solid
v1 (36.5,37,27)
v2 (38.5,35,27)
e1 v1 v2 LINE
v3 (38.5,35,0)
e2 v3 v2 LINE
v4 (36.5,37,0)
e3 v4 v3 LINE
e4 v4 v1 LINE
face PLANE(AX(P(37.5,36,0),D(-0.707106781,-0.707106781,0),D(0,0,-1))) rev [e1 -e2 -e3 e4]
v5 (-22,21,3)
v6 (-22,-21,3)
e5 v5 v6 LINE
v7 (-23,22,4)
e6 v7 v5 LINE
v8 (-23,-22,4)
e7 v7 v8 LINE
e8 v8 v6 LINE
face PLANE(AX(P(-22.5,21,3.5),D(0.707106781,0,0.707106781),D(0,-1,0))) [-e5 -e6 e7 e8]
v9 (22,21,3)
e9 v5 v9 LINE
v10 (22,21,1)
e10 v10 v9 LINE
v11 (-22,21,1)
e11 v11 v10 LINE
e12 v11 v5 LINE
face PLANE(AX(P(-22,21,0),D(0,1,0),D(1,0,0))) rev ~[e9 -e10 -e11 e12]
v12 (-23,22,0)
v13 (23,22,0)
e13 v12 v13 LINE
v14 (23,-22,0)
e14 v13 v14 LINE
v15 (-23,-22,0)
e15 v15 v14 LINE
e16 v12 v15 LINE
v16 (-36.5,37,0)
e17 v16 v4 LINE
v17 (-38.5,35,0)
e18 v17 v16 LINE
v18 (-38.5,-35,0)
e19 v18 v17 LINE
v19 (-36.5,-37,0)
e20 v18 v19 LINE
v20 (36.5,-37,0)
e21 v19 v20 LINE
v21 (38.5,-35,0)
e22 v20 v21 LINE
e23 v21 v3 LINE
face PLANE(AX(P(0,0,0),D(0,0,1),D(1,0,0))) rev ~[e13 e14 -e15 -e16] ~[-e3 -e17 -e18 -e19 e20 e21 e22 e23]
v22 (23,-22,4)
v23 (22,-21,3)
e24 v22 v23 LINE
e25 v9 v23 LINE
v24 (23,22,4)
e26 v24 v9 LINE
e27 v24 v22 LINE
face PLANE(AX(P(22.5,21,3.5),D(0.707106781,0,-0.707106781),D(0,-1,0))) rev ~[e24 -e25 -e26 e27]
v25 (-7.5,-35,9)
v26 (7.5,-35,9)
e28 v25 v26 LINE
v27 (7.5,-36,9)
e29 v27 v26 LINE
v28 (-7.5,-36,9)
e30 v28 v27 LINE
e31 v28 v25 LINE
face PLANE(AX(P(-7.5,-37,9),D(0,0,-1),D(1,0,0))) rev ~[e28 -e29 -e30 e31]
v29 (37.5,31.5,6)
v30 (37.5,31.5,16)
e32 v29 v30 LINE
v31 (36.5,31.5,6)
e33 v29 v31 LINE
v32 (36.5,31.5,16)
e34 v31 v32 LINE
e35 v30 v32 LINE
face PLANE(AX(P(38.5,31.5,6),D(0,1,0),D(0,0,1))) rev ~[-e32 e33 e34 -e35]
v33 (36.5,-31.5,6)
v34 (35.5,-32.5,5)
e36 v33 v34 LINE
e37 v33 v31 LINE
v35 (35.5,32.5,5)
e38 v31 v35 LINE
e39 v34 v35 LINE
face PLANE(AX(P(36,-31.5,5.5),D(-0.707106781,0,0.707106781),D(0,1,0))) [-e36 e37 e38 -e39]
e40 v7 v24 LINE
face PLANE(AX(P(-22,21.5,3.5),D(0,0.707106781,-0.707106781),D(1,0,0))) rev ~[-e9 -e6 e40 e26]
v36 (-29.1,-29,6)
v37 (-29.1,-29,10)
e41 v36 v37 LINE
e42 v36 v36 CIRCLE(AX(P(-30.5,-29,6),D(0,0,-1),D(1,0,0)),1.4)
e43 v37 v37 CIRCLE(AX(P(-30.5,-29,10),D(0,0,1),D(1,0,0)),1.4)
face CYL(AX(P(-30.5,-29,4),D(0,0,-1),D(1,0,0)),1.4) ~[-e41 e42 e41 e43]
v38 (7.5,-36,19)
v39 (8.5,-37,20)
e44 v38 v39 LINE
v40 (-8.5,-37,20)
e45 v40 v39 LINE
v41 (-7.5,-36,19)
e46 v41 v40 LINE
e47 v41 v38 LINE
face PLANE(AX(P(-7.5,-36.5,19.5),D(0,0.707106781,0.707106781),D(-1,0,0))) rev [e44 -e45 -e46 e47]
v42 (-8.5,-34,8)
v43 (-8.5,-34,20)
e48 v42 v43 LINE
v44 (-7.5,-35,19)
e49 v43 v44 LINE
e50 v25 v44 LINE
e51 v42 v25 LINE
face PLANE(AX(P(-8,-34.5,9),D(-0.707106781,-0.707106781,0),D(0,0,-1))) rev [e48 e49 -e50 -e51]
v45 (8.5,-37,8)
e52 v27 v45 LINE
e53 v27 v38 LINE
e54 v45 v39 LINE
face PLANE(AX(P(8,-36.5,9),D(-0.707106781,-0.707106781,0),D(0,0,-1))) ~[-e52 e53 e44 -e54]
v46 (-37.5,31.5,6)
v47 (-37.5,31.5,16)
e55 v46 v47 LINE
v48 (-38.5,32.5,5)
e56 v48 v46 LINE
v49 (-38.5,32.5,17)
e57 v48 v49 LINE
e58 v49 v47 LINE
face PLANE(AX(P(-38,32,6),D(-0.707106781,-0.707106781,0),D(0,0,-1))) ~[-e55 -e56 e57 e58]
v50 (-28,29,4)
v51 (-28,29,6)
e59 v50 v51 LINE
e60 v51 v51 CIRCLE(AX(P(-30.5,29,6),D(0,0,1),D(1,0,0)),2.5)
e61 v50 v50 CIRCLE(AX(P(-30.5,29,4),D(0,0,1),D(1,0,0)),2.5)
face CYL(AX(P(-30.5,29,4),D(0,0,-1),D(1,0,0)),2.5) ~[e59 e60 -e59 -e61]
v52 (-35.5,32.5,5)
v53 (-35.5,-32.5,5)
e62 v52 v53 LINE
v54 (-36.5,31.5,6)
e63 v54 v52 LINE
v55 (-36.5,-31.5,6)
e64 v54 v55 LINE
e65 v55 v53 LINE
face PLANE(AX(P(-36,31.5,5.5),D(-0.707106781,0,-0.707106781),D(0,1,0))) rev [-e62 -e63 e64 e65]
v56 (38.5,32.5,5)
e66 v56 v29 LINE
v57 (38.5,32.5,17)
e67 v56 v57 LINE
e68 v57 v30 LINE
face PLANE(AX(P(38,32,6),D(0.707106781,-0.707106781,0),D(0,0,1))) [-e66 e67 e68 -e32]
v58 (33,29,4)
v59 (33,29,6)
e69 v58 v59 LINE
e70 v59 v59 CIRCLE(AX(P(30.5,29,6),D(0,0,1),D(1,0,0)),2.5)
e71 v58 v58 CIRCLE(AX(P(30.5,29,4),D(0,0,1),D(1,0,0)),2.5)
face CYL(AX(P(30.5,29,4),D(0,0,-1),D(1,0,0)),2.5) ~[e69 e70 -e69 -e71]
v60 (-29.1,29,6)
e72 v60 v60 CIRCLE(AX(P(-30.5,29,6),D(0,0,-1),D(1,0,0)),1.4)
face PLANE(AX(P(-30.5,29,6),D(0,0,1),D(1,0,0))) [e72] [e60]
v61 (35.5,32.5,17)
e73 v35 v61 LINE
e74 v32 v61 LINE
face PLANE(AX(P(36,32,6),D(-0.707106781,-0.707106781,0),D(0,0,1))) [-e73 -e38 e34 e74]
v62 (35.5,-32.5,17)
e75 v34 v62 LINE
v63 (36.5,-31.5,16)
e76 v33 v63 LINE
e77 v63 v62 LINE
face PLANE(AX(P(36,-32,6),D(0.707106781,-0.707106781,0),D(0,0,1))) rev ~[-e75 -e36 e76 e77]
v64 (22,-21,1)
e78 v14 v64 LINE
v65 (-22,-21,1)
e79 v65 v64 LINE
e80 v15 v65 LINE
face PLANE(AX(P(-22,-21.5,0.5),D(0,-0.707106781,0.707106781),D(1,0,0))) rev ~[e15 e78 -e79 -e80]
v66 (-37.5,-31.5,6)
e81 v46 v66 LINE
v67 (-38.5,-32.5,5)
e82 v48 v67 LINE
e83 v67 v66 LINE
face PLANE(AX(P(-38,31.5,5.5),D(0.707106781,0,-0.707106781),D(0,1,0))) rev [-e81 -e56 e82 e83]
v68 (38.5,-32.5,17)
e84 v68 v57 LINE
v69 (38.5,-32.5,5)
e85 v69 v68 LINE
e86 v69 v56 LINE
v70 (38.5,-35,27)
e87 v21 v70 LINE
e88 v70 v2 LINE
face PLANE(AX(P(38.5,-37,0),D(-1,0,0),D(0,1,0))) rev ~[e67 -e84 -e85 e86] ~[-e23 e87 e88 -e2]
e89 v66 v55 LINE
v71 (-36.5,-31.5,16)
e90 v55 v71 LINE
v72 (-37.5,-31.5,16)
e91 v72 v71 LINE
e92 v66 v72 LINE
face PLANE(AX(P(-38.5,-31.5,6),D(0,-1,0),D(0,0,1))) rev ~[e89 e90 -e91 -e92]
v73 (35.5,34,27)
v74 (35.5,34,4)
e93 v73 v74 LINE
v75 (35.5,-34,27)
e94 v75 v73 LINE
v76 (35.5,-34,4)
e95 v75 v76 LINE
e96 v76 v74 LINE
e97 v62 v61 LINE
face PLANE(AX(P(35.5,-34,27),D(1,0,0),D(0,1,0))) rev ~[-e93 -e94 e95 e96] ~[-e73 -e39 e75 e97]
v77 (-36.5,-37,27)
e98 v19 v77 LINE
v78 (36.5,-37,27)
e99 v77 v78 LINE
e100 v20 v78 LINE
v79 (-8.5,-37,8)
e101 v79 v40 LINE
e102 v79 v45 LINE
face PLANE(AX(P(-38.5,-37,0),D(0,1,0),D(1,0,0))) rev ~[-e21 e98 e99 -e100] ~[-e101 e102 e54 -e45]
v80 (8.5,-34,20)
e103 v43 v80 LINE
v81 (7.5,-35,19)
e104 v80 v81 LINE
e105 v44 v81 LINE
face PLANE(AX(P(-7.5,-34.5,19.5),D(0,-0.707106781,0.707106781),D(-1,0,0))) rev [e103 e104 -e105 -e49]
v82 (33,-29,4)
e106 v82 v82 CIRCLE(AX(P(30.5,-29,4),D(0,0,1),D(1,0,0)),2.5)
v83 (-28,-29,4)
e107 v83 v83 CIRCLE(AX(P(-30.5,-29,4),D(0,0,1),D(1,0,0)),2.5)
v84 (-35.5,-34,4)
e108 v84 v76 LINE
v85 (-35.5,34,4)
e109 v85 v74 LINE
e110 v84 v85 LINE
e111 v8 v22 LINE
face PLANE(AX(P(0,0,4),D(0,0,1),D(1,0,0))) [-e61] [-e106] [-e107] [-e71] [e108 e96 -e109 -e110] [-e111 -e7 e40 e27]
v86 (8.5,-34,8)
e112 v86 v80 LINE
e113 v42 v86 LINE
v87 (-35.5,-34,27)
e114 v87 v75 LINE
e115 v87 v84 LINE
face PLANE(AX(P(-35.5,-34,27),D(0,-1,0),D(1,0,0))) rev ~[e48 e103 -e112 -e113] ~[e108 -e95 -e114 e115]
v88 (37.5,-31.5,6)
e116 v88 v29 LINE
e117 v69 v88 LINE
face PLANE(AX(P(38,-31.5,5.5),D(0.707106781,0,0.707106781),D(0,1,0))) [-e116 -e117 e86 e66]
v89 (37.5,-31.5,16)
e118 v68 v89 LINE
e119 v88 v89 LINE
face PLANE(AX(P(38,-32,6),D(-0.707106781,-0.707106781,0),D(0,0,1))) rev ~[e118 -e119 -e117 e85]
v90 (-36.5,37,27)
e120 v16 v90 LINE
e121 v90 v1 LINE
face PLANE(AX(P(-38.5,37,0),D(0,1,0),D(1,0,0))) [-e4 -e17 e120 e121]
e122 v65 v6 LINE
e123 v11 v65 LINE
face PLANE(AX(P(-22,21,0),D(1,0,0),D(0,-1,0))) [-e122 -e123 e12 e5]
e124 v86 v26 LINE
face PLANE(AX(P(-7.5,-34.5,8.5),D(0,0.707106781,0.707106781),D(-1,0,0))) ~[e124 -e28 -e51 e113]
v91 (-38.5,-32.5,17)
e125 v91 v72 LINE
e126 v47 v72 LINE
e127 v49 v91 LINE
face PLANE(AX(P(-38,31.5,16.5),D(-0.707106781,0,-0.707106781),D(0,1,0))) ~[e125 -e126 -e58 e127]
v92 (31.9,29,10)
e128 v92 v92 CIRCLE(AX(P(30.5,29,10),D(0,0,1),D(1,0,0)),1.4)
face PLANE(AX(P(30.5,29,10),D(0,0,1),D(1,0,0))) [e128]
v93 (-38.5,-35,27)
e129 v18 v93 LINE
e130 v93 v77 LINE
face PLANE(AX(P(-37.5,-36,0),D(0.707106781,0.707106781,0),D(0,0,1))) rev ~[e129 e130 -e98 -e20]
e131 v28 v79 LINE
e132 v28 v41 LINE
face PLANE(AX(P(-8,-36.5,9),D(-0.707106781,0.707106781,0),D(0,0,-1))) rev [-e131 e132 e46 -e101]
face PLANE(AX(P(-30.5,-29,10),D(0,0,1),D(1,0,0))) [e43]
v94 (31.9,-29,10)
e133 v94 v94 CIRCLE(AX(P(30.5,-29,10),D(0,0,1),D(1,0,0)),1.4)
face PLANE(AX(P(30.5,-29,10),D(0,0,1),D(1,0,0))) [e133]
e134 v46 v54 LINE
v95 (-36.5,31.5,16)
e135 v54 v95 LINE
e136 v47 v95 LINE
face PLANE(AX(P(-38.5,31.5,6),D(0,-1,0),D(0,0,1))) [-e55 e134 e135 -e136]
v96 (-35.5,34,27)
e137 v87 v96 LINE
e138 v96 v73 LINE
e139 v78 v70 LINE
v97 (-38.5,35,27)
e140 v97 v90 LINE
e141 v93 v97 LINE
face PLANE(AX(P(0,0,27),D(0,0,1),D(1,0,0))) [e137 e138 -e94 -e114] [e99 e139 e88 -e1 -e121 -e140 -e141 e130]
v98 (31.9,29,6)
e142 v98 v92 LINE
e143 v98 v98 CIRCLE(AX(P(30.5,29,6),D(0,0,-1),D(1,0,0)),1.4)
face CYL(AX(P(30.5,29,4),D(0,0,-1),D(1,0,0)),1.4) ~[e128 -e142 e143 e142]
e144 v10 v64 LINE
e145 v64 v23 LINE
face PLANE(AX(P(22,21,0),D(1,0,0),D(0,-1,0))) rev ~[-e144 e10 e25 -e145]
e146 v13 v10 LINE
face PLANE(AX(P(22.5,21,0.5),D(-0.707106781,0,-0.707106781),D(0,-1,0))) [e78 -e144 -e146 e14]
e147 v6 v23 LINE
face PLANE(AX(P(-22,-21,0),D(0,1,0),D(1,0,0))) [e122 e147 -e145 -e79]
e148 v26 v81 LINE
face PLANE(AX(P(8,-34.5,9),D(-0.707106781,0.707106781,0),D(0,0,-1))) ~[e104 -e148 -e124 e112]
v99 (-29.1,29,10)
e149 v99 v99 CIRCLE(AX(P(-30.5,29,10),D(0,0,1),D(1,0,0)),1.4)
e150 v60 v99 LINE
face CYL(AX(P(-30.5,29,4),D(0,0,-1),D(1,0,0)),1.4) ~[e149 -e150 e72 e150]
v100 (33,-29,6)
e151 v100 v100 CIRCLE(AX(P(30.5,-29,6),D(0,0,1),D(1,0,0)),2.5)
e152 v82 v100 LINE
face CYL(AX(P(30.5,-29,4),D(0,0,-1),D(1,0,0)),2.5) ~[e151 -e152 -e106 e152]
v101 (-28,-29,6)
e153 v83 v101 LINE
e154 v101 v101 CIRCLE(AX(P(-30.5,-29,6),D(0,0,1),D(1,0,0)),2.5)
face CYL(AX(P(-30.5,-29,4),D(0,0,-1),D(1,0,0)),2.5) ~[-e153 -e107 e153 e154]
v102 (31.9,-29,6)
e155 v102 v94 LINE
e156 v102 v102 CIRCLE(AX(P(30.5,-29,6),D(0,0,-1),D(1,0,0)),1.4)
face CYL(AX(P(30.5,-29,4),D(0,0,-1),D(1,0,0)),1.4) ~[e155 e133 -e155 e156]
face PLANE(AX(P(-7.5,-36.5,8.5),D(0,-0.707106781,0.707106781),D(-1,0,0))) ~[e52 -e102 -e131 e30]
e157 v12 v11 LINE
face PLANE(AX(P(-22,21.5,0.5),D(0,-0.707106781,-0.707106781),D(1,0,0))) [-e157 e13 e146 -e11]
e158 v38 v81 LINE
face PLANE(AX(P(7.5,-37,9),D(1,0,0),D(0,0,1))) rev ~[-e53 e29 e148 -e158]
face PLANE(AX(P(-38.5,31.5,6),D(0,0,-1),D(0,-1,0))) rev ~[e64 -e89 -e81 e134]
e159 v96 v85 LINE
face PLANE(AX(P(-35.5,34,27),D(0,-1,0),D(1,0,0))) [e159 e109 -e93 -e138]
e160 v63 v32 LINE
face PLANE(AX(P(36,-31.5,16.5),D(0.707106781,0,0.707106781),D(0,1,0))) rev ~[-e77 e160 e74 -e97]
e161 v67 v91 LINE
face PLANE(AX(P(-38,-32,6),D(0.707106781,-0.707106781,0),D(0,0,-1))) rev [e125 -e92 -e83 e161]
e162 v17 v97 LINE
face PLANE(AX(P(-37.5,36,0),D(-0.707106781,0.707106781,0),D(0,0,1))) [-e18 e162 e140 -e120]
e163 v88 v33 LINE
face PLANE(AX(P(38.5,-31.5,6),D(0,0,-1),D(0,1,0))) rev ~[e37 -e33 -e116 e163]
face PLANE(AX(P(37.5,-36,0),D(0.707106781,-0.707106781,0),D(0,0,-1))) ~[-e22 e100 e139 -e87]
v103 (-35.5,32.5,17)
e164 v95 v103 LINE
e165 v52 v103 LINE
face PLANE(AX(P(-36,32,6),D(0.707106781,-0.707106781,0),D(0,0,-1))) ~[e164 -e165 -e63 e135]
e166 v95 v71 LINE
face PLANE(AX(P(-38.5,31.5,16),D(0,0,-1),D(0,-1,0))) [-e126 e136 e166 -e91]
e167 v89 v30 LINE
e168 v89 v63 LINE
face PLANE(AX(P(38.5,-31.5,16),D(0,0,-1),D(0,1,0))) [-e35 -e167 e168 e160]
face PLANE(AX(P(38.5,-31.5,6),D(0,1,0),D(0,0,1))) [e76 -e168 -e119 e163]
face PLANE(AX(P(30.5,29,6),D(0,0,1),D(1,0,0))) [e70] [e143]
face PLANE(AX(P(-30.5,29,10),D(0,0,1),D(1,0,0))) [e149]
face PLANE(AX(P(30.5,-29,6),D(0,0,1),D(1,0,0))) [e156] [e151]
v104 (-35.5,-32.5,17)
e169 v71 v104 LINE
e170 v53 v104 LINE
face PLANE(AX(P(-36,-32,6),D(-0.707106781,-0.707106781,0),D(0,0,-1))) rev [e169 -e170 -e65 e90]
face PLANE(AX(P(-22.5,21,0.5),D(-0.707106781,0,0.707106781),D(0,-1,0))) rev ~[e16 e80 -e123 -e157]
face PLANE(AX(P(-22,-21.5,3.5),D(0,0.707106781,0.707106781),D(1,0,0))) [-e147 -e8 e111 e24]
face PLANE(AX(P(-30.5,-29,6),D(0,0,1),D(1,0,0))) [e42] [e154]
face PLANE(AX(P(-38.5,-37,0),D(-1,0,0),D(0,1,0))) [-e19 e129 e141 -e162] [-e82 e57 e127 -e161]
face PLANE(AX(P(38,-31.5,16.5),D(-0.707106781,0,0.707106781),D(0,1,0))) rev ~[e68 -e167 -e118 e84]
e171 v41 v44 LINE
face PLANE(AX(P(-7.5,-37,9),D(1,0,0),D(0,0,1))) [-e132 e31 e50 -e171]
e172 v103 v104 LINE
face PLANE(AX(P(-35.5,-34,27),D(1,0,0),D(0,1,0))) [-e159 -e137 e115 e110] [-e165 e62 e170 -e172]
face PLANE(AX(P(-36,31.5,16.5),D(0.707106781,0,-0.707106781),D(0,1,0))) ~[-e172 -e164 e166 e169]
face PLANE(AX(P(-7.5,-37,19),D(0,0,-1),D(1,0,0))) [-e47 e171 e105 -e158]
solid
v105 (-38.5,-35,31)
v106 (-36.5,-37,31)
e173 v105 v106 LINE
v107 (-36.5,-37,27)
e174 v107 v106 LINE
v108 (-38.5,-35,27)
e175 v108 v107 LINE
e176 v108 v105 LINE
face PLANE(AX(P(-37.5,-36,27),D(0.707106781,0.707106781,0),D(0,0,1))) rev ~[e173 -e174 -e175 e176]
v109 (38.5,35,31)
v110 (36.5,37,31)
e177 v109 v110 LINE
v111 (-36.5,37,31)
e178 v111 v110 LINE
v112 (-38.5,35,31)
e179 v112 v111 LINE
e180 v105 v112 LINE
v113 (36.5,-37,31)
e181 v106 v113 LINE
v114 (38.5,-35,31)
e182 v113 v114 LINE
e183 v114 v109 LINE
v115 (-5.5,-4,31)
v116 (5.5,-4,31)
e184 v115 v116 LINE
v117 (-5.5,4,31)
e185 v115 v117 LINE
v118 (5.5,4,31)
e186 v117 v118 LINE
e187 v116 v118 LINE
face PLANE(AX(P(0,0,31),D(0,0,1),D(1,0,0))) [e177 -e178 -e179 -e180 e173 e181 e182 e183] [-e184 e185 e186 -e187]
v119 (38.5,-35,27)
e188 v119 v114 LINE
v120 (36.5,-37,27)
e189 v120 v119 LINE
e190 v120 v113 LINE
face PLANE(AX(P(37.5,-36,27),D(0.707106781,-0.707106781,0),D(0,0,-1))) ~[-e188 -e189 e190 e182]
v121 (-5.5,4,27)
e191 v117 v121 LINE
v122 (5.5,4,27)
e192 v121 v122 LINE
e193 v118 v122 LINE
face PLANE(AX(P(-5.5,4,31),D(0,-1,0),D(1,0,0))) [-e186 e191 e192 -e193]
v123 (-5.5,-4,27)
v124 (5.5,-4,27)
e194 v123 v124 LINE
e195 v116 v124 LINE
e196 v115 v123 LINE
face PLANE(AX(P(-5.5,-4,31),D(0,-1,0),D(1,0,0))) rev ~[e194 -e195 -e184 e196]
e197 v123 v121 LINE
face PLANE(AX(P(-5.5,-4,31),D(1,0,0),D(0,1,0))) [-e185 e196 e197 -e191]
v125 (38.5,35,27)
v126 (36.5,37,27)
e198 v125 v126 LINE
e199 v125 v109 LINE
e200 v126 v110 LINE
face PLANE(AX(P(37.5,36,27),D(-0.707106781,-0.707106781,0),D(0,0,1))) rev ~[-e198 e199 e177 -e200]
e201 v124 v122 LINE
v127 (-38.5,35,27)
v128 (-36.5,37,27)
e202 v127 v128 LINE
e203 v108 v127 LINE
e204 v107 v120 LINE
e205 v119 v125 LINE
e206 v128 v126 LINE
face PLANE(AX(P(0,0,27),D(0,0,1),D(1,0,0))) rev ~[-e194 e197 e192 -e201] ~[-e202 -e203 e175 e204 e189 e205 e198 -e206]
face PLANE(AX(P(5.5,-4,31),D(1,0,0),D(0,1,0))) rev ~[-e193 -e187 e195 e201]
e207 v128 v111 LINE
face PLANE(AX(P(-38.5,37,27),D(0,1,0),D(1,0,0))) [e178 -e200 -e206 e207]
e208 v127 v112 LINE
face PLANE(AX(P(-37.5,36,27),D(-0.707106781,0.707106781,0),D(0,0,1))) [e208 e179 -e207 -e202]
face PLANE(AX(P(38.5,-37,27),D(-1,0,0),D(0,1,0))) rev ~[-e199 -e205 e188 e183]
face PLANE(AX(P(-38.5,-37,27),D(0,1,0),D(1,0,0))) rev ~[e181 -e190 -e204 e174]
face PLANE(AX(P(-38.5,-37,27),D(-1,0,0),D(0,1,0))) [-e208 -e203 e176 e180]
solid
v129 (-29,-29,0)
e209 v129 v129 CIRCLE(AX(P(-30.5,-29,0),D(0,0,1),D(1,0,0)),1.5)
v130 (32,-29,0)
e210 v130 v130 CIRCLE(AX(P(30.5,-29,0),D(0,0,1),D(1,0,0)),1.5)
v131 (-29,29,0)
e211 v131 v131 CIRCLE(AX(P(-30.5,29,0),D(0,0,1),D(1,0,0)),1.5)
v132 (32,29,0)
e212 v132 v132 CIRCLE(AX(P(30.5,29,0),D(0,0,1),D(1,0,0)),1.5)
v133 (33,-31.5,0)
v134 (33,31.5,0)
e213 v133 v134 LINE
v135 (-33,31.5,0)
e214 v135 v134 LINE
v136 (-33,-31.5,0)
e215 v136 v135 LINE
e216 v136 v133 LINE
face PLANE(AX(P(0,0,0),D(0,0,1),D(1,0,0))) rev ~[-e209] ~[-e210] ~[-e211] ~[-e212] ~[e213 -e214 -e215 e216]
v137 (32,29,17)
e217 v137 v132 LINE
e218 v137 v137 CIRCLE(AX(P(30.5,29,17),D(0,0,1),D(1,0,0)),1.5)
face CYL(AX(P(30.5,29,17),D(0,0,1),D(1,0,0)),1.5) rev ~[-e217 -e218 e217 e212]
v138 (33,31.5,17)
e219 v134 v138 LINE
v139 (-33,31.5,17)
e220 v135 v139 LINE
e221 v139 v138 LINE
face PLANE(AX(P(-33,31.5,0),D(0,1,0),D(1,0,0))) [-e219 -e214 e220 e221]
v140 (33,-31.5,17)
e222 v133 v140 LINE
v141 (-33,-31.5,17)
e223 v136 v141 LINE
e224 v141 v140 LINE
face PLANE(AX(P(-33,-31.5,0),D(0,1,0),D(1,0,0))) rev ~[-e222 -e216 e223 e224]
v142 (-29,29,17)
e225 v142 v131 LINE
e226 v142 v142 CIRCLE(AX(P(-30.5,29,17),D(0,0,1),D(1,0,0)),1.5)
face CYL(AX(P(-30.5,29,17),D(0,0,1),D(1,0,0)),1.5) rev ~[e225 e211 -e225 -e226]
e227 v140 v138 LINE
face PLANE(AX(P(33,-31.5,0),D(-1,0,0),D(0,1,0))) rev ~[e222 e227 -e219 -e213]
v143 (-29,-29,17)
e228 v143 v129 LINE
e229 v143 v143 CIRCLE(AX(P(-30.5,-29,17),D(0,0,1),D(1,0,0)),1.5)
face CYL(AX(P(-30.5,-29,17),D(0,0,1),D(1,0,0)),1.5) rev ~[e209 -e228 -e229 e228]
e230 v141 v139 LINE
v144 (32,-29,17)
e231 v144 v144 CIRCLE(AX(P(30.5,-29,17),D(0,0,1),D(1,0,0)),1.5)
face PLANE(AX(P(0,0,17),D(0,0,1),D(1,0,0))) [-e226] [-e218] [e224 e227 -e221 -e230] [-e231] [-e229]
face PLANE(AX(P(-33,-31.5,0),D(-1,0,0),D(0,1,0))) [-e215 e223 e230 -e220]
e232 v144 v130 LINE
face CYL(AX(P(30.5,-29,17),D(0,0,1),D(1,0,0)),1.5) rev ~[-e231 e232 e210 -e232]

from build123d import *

# Parameters (mm, degrees)
SKETCH_W        = 66
SKETCH_H        = 63
PAD_DEPTH       = 17
SKETCH001_R     = 1.5
POCKET_DEPTH    = 17
SKETCH002_R     = 1.5
POCKET001_DEPTH = 17
SKETCH003_R     = 1.5
POCKET002_DEPTH = 17
SKETCH004_R     = 1.5
POCKET003_DEPTH = 17
SKETCH005_W     = 77
SKETCH005_H     = 74
PAD001_DEPTH    = 27
SKETCH006_W     = 71
SKETCH006_H     = 68
POCKET004_DEPTH = 23
SKETCH007_R     = 2.5
PAD002_DEPTH    = 2
SKETCH008_R     = 2.5
PAD003_DEPTH    = 2
SKETCH009_R     = 2.5
PAD004_DEPTH    = 2
SKETCH010_R     = 2.5
PAD005_DEPTH    = 2
SKETCH011_R     = 1.4
PAD006_DEPTH    = 6
SKETCH012_R     = 1.4
PAD007_DEPTH    = 6
SKETCH013_R     = 1.4
PAD008_DEPTH    = 6
SKETCH014_R     = 1.4
PAD009_DEPTH    = 6
SKETCH015_W     = 63
SKETCH015_H     = 10
POCKET005_DEPTH = 3
SKETCH016_W     = 63
SKETCH016_H     = 10
POCKET006_DEPTH = 3
SKETCH017_W     = 15
SKETCH017_H     = 10
POCKET007_DEPTH = 3
SKETCH018_W     = 44
SKETCH018_H     = 42
POCKET008_DEPTH = 4
CHAMFER_SIZE    = 1
CHAMFER001_SIZE = 2
CHAMFER002_SIZE = 1
CHAMFER003_SIZE = 1
SKETCH019_W     = 77
SKETCH019_H     = 74
PAD010_DEPTH    = 4
CHAMFER004_SIZE = 2
SKETCH020_W     = 11
SKETCH020_H     = 8
POCKET009_DEPTH = 4


with BuildPart() as esp32_bb:
    # Sketch → Pad (new body)
    with BuildSketch(Plane.XY):
        Rectangle(SKETCH_W, SKETCH_H)
    extrude(amount=PAD_DEPTH)

    # Sketch001 (on Face6 of Pad) → Pocket (cut)
    with BuildSketch(Plane.XY.offset(17)):
        with Locations((30.5, 29)):
            Circle(SKETCH001_R)
    extrude(amount=-POCKET_DEPTH, mode=Mode.SUBTRACT)

    # Sketch002 (on Face5 of Pocket) → Pocket001 (cut)
    with BuildSketch(Plane.XY.offset(17)):
        with Locations((30.5, -29)):
            Circle(SKETCH002_R)
    extrude(amount=-POCKET001_DEPTH, mode=Mode.SUBTRACT)

    # Sketch003 (on Face5 of Pocket001) → Pocket002 (cut)
    with BuildSketch(Plane.XY.offset(17)):
        with Locations((-30.5, -29)):
            Circle(SKETCH003_R)
    extrude(amount=-POCKET002_DEPTH, mode=Mode.SUBTRACT)

    # Sketch004 (on Face5 of Pocket002) → Pocket003 (cut)
    with BuildSketch(Plane.XY.offset(17)):
        with Locations((-30.5, 29)):
            Circle(SKETCH004_R)
    extrude(amount=-POCKET003_DEPTH, mode=Mode.SUBTRACT)


with BuildPart() as esp32_housing:
    # Sketch005 → Pad001 (new body)
    with BuildSketch(Plane.XY):
        Rectangle(SKETCH005_W, SKETCH005_H)
    extrude(amount=PAD001_DEPTH)

    # Sketch006 (on Face6 of Pad001) → Pocket004 (cut)
    with BuildSketch(Plane.XY.offset(27)):
        Rectangle(SKETCH006_W, SKETCH006_H)
    extrude(amount=-POCKET004_DEPTH, mode=Mode.SUBTRACT)

    # Sketch007 (on Face11 of Pocket004) → Pad002 (join)
    with BuildSketch(Plane.XY.offset(4)):
        with Locations((30.5, 29)):
            Circle(SKETCH007_R)
    extrude(amount=PAD002_DEPTH)

    # Sketch008 (on Face11 of Pocket004) → Pad003 (join)
    with BuildSketch(Plane.XY.offset(4)):
        with Locations((30.5, -29)):
            Circle(SKETCH008_R)
    extrude(amount=PAD003_DEPTH)

    # Sketch009 (on Face11 of Pocket004) → Pad004 (join)
    with BuildSketch(Plane.XY.offset(4)):
        with Locations((-30.5, -29)):
            Circle(SKETCH009_R)
    extrude(amount=PAD004_DEPTH)

    # Sketch010 (on Face11 of Pocket004) → Pad005 (join)
    with BuildSketch(Plane.XY.offset(4)):
        with Locations((-30.5, 29)):
            Circle(SKETCH010_R)
    extrude(amount=PAD005_DEPTH)

    # Sketch011 (on Face11 of Pad005) → Pad006 (join)
    with BuildSketch(Plane.XY.offset(4)):
        with Locations((30.5, 29)):
            Circle(SKETCH011_R)
    extrude(amount=PAD006_DEPTH)

    # Sketch012 (on Face11 of Pad005) → Pad007 (join)
    with BuildSketch(Plane.XY.offset(4)):
        with Locations((30.5, -29)):
            Circle(SKETCH012_R)
    extrude(amount=PAD007_DEPTH)

    # Sketch013 (on Face11 of Pad005) → Pad008 (join)
    with BuildSketch(Plane.XY.offset(4)):
        with Locations((-30.5, -29)):
            Circle(SKETCH013_R)
    extrude(amount=PAD008_DEPTH)

    # Sketch014 (on Face11 of Pad005) → Pad009 (join)
    with BuildSketch(Plane.XY.offset(4)):
        with Locations((-30.5, 29)):
            Circle(SKETCH014_R)
    extrude(amount=PAD009_DEPTH)

    # Sketch015 (on Face1 of Pad009) → Pocket005 (cut)
    with BuildSketch(Plane(origin=(-38.5, 0, 0), x_dir=(0, -1, 0), z_dir=(-1, 0, 0))):
        with Locations((0, 11)):
            Rectangle(SKETCH015_W, SKETCH015_H)
    extrude(amount=-POCKET005_DEPTH, mode=Mode.SUBTRACT)

    # Sketch016 (on Face10 of Pocket005) → Pocket006 (cut)
    with BuildSketch(Plane.YZ.offset(38.5)):
        with Locations((0, 11)):
            Rectangle(SKETCH016_W, SKETCH016_H)
    extrude(amount=-POCKET006_DEPTH, mode=Mode.SUBTRACT)

    # Sketch017 (on Face5 of Pocket006) → Pocket007 (cut)
    with BuildSketch(Plane.XZ.offset(37)):
        with Locations((0, 14)):
            Rectangle(SKETCH017_W, SKETCH017_H)
    extrude(amount=-POCKET007_DEPTH, mode=Mode.SUBTRACT)

    # Sketch018 (on Face3 of Pocket007) → Pocket008 (cut)
    with BuildSketch(Plane(origin=(0, 0, 0), x_dir=(1, 0, 0), z_dir=(0, 0, -1))):
        Rectangle(SKETCH018_W, SKETCH018_H)
    extrude(amount=-POCKET008_DEPTH, mode=Mode.SUBTRACT)

    # Chamfer
    chamfer_edges = [esp32_housing.edges().sort_by_distance(p)[0] for p in [
        (0, -37, 9),
        (-7.5, -37, 14),
        (-7.5, -34, 14),
        (0, -34, 9),
        (0, -37, 19),
        (0, -34, 19),
        (7.5, -34, 14),
        (7.5, -37, 14),
    ]]
    chamfer(chamfer_edges, length=CHAMFER_SIZE)

    # Chamfer001
    chamfer001_edges = [esp32_housing.edges().sort_by_distance(p)[0] for p in [
        (-38.5, -37, 13.5),
        (38.5, -37, 13.5),
        (-38.5, 37, 13.5),
        (38.5, 37, 13.5),
    ]]
    chamfer(chamfer001_edges, length=CHAMFER001_SIZE)

    # Chamfer002
    chamfer002_edges = [esp32_housing.edges().sort_by_distance(p)[0] for p in [
        (22, 0, 0),
        (22, 0, 4),
        (0, 21, 0),
        (0, 21, 4),
        (-22, 0, 4),
        (-22, 0, 0),
        (0, -21, 0),
        (0, -21, 4),
    ]]
    chamfer(chamfer002_edges, length=CHAMFER002_SIZE)

    # Chamfer003
    chamfer003_edges = [esp32_housing.edges().sort_by_distance(p)[0] for p in [
        (-38.5, -31.5, 11),
        (-38.5, 0, 6),
        (-38.5, 0, 16),
        (-35.5, 0, 6),
        (-35.5, -31.5, 11),
        (-35.5, 0, 16),
        (-35.5, 31.5, 11),
        (-38.5, 31.5, 11),
        (38.5, 0, 6),
        (35.5, 0, 6),
        (35.5, 31.5, 11),
        (38.5, 31.5, 11),
        (35.5, 0, 16),
        (35.5, -31.5, 11),
        (38.5, -31.5, 11),
        (38.5, 0, 16),
    ]]
    chamfer(chamfer003_edges, length=CHAMFER003_SIZE)


with BuildPart() as esp32_housing_lid:
    # Sketch019 → Pad010 (new body)
    with BuildSketch(Plane.XY.offset(27)):
        Rectangle(SKETCH019_W, SKETCH019_H)
    extrude(amount=PAD010_DEPTH)

    # Chamfer004
    chamfer004_edges = [esp32_housing_lid.edges().sort_by_distance(p)[0] for p in [
        (-38.5, -37, 29),
        (38.5, -37, 29),
        (-38.5, 37, 29),
        (38.5, 37, 29),
    ]]
    chamfer(chamfer004_edges, length=CHAMFER004_SIZE)

    # Sketch020 (on Face5 of Chamfer004) → Pocket009 (cut)
    with BuildSketch(Plane.XY.offset(31)):
        Rectangle(SKETCH020_W, SKETCH020_H)
    extrude(amount=-POCKET009_DEPTH, mode=Mode.SUBTRACT)


solid = Compound([esp32_bb.part, esp32_housing.part, esp32_housing_lid.part])
